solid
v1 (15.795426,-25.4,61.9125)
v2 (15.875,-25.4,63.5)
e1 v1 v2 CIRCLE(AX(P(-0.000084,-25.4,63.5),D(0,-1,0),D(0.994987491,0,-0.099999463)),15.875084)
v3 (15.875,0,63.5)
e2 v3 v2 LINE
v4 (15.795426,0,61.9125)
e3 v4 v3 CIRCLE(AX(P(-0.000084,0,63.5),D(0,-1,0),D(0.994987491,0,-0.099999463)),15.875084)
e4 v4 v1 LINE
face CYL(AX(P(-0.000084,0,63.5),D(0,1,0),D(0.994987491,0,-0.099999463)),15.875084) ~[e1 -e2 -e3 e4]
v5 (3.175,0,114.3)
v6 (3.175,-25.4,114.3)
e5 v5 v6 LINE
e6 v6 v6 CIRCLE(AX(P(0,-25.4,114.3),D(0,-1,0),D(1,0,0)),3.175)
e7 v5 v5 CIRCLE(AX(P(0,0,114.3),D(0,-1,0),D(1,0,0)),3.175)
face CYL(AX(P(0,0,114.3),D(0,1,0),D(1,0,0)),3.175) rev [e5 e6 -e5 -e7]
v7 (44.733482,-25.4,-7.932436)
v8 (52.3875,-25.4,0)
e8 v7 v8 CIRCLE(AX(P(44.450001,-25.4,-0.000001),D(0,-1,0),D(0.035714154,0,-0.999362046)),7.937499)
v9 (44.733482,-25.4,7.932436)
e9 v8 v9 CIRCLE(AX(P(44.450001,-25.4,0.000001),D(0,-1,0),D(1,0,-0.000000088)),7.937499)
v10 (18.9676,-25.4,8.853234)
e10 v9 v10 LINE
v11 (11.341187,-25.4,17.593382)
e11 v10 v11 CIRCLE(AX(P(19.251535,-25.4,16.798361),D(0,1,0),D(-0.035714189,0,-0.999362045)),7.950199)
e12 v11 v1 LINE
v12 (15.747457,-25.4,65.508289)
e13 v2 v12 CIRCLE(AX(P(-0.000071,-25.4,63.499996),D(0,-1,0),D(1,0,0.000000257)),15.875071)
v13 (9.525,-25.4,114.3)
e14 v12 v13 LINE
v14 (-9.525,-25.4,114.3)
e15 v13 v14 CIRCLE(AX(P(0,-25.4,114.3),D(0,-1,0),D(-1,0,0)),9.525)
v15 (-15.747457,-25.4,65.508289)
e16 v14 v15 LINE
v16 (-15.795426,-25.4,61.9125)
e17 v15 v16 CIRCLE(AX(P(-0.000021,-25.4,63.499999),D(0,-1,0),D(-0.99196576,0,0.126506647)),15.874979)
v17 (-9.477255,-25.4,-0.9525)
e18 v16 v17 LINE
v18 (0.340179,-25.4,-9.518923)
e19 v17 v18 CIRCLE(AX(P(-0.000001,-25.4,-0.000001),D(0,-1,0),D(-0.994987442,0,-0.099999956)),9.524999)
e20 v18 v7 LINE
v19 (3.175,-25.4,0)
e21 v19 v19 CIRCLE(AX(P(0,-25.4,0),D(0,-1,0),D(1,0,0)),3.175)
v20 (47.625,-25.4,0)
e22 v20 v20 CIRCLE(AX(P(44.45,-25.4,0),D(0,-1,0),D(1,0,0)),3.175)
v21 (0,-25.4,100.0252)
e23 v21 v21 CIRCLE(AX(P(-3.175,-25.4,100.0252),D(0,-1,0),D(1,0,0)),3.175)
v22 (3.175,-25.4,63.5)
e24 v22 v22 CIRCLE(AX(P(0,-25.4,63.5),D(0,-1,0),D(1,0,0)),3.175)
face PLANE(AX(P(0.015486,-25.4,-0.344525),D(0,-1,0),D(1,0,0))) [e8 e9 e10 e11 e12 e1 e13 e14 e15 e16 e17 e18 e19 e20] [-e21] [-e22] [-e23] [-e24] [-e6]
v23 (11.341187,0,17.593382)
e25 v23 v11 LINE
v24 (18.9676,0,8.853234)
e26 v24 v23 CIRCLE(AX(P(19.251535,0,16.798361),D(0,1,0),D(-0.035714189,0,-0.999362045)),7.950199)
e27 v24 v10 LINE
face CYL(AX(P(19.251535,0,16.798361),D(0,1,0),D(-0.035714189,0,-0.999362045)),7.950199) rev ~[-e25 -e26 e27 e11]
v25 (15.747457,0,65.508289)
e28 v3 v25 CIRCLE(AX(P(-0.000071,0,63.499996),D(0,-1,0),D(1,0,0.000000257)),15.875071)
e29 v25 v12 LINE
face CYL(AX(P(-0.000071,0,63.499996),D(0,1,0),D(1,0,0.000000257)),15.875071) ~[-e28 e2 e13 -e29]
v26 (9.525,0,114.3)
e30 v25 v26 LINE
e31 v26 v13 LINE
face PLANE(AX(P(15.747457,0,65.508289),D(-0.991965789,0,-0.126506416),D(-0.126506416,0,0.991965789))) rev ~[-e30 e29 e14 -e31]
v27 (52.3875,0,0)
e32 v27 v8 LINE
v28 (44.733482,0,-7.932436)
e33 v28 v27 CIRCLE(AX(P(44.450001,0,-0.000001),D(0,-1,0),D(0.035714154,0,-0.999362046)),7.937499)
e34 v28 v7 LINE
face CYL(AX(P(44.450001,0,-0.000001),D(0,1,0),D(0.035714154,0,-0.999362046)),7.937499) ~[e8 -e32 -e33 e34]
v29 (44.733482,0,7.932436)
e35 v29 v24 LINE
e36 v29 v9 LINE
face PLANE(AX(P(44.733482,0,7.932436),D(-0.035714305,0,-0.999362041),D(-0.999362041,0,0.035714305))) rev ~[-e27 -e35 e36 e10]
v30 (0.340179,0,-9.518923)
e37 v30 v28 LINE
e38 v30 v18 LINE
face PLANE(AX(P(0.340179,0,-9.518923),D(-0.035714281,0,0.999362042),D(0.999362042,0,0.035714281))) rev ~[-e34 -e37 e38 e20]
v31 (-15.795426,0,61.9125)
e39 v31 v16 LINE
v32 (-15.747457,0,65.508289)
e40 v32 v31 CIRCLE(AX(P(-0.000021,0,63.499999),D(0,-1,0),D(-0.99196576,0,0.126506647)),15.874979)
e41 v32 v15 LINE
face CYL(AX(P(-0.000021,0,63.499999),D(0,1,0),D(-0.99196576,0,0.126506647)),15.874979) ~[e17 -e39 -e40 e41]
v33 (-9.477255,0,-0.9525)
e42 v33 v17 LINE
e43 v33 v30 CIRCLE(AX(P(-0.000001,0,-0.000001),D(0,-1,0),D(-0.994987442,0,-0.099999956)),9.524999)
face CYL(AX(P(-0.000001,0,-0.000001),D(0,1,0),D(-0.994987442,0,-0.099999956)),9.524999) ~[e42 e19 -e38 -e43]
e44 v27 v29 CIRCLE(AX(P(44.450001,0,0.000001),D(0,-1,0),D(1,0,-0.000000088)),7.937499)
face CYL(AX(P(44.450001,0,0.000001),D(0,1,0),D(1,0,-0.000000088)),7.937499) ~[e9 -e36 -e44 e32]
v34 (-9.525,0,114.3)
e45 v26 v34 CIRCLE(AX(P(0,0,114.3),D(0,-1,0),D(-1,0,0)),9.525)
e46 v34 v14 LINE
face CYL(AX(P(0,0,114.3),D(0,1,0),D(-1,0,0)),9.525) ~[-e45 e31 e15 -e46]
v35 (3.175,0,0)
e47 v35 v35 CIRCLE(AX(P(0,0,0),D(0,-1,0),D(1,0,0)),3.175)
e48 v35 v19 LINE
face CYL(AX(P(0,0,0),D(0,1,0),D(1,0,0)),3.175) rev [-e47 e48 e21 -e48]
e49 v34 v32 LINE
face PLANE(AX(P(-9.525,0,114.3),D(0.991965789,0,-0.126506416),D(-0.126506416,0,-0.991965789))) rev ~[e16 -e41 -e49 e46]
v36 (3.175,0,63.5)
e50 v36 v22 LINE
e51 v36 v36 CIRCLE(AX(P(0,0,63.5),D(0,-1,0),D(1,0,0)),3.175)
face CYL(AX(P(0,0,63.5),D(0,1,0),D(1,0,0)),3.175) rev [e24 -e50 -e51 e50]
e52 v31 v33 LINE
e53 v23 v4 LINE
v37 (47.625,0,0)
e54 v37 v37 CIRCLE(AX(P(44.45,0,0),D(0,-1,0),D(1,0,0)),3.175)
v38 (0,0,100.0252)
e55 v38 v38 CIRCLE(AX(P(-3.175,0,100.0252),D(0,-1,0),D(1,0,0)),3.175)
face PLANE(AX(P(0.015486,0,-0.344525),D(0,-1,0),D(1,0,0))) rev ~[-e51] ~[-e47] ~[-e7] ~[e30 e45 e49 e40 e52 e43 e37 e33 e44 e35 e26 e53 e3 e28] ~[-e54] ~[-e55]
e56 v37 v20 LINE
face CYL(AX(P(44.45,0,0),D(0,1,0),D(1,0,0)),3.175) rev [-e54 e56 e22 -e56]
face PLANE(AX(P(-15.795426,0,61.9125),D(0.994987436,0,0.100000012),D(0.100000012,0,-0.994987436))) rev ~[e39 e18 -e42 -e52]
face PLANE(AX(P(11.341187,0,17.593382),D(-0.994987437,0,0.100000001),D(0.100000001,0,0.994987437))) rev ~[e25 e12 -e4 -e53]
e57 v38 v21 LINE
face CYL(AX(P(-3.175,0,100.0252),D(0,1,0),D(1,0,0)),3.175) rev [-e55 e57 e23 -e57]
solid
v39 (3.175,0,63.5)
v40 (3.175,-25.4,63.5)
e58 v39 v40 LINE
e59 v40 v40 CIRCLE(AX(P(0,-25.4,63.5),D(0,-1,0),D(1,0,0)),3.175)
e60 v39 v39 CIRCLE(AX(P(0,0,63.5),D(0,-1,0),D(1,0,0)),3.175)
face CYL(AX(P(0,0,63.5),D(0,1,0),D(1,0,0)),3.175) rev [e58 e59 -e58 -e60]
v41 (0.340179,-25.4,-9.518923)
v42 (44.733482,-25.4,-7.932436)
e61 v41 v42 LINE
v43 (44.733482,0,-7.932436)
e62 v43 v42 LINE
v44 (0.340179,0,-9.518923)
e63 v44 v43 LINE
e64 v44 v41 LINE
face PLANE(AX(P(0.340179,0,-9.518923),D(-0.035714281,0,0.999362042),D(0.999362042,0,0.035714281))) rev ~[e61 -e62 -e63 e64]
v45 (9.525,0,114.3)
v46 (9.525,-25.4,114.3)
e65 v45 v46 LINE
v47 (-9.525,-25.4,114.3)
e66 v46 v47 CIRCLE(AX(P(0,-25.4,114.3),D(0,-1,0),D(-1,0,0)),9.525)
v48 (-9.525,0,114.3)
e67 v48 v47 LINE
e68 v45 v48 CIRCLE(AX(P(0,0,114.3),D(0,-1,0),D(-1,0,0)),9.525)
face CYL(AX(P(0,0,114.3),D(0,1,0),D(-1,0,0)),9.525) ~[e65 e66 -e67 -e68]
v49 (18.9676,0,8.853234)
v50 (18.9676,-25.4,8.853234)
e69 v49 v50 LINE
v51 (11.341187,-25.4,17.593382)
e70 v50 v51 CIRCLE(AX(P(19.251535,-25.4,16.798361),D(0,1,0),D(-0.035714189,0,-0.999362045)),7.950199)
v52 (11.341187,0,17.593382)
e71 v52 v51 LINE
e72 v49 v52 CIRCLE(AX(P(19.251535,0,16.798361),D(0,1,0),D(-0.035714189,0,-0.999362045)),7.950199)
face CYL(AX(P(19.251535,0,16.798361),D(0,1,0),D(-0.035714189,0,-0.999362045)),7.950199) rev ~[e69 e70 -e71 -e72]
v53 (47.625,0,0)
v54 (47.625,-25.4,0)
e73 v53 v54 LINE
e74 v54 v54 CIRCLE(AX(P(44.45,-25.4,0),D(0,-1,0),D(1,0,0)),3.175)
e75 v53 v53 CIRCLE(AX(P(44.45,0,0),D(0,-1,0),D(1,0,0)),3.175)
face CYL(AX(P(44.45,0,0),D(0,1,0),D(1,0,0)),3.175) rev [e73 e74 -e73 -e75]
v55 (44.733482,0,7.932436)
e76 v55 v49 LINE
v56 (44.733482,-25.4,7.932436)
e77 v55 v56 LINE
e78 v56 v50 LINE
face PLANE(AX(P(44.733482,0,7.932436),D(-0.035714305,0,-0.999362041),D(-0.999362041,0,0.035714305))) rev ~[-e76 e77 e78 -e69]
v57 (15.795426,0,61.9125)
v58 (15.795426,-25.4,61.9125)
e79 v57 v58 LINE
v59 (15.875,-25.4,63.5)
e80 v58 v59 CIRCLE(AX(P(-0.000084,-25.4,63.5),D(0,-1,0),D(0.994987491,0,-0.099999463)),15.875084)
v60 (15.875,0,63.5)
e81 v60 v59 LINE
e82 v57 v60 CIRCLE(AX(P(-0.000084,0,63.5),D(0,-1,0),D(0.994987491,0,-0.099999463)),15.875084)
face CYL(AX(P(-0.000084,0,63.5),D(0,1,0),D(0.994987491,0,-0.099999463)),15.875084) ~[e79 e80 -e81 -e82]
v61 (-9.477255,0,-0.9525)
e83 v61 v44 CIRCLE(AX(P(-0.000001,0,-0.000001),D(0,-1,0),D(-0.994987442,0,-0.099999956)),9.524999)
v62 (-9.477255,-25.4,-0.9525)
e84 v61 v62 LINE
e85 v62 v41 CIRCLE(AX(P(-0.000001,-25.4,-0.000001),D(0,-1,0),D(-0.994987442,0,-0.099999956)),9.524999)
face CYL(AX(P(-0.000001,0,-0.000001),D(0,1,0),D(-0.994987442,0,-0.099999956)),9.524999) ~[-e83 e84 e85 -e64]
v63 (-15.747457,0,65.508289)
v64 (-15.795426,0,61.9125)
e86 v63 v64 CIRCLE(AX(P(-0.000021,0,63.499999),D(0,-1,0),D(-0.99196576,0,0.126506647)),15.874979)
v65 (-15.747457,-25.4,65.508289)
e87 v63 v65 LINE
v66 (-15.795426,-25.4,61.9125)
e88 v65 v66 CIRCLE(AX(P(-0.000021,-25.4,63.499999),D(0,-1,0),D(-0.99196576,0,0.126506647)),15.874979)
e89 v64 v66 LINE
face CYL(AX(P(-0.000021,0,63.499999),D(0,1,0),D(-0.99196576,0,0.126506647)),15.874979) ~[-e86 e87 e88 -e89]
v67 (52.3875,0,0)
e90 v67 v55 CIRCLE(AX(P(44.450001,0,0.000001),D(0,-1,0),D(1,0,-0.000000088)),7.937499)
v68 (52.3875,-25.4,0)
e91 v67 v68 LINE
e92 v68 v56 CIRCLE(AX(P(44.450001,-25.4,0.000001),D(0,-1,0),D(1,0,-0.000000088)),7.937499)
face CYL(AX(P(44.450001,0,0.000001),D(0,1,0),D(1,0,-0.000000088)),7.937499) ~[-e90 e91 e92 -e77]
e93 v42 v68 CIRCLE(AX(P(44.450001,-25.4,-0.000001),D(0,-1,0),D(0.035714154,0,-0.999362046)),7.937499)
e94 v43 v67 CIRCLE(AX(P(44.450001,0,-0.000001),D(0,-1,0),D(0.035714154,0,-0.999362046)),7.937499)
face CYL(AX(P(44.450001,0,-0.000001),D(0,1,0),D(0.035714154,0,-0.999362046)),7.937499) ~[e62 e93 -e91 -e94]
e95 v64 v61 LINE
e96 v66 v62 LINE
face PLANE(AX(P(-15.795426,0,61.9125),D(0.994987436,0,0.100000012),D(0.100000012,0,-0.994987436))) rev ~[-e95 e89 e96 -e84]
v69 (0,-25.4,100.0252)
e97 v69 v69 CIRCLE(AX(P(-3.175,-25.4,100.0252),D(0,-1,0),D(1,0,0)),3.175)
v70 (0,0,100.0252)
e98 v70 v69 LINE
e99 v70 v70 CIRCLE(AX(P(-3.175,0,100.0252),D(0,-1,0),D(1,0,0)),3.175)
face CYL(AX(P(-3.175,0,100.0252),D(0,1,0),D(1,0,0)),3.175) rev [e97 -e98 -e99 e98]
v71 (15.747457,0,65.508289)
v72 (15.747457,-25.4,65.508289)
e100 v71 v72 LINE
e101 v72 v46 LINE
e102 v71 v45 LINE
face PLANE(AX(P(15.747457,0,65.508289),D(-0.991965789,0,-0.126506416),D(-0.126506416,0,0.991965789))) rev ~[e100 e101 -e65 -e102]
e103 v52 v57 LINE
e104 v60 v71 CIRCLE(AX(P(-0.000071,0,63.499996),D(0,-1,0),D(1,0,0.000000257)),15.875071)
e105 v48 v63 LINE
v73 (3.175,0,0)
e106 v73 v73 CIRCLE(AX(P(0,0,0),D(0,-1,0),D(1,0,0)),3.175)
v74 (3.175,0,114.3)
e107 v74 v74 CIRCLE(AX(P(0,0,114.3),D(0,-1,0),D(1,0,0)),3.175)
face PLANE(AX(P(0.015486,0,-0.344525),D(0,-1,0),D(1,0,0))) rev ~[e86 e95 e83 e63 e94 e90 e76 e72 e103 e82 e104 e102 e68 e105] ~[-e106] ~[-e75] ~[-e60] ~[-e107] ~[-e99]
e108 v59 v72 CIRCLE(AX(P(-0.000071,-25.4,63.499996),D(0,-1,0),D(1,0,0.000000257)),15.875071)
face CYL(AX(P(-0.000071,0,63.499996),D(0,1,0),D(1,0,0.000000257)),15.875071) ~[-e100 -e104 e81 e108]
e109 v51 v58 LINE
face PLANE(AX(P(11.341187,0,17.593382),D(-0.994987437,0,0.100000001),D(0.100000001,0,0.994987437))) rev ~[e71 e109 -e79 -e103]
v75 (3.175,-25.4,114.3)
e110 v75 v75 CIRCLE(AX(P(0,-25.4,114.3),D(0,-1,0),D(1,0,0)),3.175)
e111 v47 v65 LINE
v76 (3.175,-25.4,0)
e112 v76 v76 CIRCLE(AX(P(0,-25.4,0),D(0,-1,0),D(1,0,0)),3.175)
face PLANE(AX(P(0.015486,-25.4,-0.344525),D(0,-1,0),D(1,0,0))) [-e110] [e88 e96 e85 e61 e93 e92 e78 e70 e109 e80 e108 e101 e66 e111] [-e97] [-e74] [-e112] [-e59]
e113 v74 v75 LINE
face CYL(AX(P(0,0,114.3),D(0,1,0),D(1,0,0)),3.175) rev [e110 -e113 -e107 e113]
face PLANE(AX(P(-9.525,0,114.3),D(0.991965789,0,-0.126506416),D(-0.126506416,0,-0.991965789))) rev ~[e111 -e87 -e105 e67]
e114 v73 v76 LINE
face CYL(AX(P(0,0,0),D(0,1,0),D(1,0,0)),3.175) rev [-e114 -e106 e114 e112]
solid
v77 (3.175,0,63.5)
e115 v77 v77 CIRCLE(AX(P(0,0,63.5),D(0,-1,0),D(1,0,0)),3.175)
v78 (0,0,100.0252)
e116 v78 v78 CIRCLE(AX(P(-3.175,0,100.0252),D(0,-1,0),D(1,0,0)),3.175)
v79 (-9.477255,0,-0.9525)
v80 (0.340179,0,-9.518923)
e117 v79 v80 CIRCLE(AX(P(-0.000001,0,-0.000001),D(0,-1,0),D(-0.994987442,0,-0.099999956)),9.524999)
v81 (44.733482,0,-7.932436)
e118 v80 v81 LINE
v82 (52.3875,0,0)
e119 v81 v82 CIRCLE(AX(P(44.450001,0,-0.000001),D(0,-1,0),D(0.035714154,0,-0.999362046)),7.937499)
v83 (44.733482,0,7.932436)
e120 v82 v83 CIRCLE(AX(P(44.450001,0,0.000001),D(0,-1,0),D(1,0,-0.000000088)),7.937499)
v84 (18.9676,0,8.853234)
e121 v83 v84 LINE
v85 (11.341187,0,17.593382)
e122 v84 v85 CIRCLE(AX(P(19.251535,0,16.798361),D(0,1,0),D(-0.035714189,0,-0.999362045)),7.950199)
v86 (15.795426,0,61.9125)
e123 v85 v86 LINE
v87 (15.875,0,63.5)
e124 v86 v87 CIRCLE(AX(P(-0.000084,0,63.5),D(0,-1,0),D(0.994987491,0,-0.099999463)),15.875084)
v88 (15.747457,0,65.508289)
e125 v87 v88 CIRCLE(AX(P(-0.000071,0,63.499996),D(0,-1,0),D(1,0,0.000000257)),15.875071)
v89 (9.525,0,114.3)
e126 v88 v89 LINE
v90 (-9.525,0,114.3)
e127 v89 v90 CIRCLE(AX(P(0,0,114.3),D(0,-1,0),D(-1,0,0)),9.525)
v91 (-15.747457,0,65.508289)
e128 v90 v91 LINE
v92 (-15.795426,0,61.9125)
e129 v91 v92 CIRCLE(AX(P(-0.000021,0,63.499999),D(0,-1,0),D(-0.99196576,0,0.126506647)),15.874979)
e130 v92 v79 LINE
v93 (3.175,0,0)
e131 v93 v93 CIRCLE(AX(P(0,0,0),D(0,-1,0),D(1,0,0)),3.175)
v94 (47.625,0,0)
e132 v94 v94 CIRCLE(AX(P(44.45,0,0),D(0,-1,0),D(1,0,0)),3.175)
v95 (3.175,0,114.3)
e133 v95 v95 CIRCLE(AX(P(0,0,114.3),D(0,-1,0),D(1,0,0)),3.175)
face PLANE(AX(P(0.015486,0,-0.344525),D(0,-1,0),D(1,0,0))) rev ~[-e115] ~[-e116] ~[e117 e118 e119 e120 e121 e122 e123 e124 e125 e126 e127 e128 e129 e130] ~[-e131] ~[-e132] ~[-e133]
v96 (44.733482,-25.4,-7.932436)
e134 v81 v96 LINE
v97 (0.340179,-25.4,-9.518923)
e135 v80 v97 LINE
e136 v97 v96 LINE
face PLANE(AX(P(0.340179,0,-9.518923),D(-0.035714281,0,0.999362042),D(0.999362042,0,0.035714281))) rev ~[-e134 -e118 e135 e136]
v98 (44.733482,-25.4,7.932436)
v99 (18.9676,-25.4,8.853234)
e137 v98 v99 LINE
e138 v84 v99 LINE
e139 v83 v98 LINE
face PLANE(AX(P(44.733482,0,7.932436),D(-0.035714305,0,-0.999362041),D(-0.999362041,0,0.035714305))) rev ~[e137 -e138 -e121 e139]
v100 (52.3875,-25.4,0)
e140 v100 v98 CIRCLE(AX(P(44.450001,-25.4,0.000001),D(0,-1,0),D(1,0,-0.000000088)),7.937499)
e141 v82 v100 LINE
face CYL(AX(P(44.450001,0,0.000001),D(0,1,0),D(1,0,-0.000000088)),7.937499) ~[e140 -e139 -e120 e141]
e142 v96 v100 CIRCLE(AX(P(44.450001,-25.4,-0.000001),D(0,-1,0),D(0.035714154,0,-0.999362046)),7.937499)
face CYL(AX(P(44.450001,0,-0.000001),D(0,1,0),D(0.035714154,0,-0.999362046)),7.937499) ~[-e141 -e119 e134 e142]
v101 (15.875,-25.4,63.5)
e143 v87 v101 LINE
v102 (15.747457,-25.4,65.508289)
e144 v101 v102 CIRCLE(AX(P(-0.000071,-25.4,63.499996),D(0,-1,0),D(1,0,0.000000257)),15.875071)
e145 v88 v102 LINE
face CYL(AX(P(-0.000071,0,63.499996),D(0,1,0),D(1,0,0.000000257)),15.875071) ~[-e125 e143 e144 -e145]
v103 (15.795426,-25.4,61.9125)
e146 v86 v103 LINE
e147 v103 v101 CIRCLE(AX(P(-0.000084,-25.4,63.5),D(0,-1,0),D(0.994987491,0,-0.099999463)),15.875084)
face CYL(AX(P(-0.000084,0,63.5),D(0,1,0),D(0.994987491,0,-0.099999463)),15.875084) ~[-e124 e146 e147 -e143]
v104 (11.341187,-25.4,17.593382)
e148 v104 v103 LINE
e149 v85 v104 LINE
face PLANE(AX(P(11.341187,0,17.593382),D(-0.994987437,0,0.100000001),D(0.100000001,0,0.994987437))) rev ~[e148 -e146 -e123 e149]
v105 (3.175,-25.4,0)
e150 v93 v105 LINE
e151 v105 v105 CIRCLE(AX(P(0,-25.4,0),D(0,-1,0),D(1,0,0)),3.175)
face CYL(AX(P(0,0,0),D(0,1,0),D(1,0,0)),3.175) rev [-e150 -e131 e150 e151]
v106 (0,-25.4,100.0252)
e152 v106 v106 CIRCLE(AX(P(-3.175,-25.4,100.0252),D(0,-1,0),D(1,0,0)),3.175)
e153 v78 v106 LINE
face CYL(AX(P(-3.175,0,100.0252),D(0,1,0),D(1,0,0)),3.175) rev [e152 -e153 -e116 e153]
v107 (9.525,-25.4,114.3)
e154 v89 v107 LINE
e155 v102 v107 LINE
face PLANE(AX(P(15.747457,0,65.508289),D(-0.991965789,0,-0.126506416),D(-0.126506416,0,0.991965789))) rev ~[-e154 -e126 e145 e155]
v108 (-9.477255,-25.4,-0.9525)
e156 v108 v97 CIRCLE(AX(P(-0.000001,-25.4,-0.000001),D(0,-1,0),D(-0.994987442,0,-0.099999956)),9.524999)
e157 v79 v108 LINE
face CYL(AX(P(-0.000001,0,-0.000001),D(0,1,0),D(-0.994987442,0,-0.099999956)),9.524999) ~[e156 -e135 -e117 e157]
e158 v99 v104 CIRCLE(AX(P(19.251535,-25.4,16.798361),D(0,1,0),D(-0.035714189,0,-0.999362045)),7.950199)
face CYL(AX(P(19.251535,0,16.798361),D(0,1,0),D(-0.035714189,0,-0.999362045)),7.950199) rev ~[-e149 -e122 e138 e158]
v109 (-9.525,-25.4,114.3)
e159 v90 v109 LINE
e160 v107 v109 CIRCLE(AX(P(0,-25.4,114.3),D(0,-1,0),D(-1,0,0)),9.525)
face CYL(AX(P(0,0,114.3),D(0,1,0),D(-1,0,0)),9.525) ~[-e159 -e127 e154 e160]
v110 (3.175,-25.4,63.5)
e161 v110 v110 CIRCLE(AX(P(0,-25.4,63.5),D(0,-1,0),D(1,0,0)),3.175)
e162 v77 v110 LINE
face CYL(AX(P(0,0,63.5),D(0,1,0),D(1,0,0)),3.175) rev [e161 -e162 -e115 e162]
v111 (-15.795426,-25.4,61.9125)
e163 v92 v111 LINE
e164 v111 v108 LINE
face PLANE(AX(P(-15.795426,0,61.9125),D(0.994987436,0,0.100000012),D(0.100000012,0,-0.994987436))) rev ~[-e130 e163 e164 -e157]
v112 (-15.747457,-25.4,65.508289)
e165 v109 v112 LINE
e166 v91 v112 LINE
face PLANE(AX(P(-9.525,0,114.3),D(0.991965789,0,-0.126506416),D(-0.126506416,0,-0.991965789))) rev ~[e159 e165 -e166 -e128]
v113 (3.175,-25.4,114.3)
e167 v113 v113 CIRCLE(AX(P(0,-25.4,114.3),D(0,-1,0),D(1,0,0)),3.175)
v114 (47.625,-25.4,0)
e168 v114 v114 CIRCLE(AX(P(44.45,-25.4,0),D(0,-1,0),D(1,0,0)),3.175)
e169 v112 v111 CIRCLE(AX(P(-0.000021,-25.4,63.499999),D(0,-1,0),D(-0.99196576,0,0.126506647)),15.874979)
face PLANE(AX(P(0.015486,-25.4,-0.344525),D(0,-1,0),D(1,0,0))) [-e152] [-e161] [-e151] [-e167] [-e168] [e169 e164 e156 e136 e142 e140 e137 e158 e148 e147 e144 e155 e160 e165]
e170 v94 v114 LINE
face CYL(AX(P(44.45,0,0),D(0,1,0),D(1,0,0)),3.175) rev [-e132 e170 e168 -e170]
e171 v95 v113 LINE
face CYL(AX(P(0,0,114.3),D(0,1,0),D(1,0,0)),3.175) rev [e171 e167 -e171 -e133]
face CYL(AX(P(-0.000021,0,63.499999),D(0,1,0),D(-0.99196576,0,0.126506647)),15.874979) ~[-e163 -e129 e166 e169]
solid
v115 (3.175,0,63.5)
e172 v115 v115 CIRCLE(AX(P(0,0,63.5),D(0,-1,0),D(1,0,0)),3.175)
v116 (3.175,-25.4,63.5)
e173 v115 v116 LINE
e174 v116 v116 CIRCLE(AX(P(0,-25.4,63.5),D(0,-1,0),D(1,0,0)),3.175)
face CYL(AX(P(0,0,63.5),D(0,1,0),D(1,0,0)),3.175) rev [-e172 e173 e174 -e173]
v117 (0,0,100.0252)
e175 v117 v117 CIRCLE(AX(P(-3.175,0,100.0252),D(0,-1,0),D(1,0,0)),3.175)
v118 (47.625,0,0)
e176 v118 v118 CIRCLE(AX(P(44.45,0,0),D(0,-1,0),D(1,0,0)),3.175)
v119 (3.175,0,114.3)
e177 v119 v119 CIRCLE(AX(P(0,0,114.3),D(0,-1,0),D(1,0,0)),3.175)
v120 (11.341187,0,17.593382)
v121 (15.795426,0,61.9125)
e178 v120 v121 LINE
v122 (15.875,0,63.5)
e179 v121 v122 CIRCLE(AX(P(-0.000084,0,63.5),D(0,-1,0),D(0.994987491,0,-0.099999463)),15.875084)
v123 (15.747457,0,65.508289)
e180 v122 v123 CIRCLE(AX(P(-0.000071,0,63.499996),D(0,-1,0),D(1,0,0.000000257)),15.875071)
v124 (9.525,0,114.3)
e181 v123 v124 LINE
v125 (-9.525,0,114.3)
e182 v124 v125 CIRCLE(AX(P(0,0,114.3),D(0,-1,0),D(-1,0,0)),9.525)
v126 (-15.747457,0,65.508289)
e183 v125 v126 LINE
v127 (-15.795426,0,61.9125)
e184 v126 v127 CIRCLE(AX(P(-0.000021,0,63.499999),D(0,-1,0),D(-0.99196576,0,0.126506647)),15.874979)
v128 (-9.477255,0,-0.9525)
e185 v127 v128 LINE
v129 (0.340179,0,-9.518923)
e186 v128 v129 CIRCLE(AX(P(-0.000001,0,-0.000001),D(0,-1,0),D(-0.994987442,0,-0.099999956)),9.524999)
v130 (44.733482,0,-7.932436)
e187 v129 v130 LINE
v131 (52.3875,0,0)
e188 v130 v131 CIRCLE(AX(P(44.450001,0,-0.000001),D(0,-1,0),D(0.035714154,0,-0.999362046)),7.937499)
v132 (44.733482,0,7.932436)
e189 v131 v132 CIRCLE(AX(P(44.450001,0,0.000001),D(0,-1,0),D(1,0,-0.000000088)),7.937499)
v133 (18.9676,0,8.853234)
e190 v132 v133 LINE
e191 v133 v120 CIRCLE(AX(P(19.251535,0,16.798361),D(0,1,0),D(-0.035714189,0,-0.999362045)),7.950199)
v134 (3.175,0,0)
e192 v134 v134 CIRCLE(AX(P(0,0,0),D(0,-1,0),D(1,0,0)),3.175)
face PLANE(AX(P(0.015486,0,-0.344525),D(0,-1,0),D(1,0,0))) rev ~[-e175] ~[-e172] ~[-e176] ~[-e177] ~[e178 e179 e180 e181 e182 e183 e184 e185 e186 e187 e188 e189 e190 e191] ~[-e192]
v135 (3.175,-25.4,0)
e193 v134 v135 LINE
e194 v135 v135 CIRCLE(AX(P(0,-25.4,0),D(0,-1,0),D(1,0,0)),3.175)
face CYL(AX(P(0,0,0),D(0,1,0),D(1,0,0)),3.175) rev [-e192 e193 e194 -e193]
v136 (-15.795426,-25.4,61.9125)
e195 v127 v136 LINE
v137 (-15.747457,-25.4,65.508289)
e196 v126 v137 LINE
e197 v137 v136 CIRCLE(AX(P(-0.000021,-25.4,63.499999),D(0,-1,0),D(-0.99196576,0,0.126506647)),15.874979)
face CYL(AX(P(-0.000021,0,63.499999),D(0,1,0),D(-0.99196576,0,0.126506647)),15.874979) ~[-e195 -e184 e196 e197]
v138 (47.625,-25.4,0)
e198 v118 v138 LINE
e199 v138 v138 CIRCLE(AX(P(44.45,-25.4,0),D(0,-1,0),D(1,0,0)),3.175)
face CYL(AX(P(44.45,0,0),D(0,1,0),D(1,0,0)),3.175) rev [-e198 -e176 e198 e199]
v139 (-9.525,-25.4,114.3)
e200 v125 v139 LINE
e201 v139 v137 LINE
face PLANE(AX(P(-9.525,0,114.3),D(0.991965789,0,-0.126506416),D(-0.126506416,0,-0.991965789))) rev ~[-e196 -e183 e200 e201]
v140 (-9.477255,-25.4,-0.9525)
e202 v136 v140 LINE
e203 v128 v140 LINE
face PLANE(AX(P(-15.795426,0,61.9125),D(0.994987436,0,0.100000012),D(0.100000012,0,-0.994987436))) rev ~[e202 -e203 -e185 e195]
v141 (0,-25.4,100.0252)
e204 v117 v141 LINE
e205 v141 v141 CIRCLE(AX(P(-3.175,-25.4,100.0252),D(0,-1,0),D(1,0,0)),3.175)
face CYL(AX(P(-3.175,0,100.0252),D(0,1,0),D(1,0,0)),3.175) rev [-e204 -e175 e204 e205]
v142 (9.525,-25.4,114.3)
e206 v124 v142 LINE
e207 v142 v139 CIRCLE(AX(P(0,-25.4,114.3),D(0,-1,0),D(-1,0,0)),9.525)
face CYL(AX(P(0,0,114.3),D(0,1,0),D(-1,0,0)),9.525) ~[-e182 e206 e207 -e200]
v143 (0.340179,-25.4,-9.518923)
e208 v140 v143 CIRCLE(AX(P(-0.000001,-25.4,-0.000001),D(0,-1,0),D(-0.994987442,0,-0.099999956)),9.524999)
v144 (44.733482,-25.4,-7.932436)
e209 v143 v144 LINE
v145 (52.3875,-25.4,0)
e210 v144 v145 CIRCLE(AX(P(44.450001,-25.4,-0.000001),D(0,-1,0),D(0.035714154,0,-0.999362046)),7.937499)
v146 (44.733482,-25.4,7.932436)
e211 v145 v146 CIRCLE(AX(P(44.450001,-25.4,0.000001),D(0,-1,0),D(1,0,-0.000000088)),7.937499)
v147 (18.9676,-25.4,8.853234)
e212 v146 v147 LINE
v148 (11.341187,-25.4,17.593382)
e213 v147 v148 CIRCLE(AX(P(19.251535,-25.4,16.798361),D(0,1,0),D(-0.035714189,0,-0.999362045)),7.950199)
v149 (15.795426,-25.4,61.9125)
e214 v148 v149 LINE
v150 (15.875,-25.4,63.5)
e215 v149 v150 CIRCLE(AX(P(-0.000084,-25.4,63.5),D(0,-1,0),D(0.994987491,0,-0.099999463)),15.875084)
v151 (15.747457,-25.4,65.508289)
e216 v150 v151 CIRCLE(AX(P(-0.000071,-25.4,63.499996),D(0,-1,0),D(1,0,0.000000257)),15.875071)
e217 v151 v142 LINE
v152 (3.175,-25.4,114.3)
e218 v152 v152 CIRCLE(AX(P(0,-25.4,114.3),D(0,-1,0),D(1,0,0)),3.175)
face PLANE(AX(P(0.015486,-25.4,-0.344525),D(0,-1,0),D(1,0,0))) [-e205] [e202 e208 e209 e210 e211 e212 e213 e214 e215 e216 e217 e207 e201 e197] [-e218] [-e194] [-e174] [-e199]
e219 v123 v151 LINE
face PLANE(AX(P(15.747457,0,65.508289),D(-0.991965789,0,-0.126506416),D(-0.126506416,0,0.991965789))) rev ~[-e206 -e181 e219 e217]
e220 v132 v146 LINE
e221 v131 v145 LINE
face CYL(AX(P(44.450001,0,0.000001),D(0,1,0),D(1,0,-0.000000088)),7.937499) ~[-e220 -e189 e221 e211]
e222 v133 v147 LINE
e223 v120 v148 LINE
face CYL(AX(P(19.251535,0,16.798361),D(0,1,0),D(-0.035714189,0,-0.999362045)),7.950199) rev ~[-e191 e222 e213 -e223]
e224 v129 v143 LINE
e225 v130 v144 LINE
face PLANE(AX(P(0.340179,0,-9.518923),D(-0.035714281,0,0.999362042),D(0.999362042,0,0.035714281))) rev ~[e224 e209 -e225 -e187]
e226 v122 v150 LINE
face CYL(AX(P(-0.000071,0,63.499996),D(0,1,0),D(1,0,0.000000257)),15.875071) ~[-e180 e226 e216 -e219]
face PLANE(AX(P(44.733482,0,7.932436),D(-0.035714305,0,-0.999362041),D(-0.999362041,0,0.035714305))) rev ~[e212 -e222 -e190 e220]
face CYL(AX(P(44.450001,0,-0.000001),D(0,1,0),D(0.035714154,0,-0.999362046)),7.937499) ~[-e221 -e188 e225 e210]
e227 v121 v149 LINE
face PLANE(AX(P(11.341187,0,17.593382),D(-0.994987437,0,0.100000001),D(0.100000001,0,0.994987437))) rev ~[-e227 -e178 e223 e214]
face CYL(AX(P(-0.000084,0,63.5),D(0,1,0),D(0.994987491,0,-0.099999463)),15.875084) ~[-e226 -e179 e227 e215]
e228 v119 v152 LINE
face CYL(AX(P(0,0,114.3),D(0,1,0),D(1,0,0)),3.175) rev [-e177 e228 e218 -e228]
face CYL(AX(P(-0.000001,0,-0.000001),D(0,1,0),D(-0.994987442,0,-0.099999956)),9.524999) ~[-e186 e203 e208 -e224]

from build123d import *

# Parameters (mm, degrees)
F0_R     = 3.175
F1_DEPTH = 25.4
F2_DEPTH = 25.4
F3_DEPTH = 25.4
F4_DEPTH = 25.4


with BuildPart() as f1:
    # F0 (on Front) → F1 (new body)
    with BuildSketch(Plane.XZ):
        with BuildLine():
            ThreePointArc((0.340179, -9.518923), (6.854408, -6.613827), (9.525, 0))
            ThreePointArc((9.525, 0), (-0.476848, 9.513056), (-9.477255, -0.9525))
            ThreePointArc((-9.477255, -0.9525), (-6.262383, -7.17692), (0.340179, -9.518923))
        make_face()
        Circle(F0_R, mode=Mode.SUBTRACT)
        with BuildLine():
            ThreePointArc((-9.477255, -0.9525), (-0.476848, 9.513056), (9.525, 0))
            ThreePointArc((9.525, 0), (6.854408, -6.613827), (0.340179, -9.518923))
            Line((0.340179, -9.518923), (44.733482, -7.932436))
            ThreePointArc((44.733482, -7.932436), (36.5125, 0), (44.733482, 7.932436))
            Line((44.733482, 7.932436), (18.9676, 8.853234))
            ThreePointArc((18.9676, 8.853234), (13.2612, 11.571359), (11.341187, 17.593382))
            Line((11.341187, 17.593382), (15.795426, 61.9125))
            ThreePointArc((15.795426, 61.9125), (0, 47.625), (-15.795426, 61.9125))
            Line((-15.795426, 61.9125), (-9.477255, -0.9525))
        make_face()
        with BuildLine():
            ThreePointArc((-15.747457, 65.508289), (-15.873588, 63.711757), (-15.795426, 61.9125))
            ThreePointArc((-15.795426, 61.9125), (0, 47.625), (15.795426, 61.9125))
            ThreePointArc((15.795426, 61.9125), (15.855094, 62.705253), (15.875, 63.5))
            ThreePointArc((15.875, 63.5), (15.843082, 64.506168), (15.747457, 65.508289))
            ThreePointArc((15.747457, 65.508289), (0, 79.375), (-15.747457, 65.508289))
        make_face()
        with Locations((0, 63.5)):
            Circle(F0_R, mode=Mode.SUBTRACT)
        with BuildLine():
            ThreePointArc((44.733482, 7.932436), (36.5125, 0), (44.733482, -7.932436))
            ThreePointArc((44.733482, -7.932436), (50.162007, -5.511523), (52.3875, 0))
            ThreePointArc((52.3875, 0), (50.162007, 5.511523), (44.733482, 7.932436))
        make_face()
        with Locations((44.45, 0)):
            Circle(F0_R, mode=Mode.SUBTRACT)
        with BuildLine():
            Line((-9.525, 114.3), (-15.747457, 65.508289))
            ThreePointArc((-15.747457, 65.508289), (0, 79.375), (15.747457, 65.508289))
            Line((15.747457, 65.508289), (9.525, 114.3))
            ThreePointArc((9.525, 114.3), (0, 104.775), (-9.525, 114.3))
        make_face()
        with Locations((-3.175, 100.0252)):
            Circle(F0_R, mode=Mode.SUBTRACT)
        with BuildLine():
            ThreePointArc((9.525, 114.3), (0, 123.825), (-9.525, 114.3))
            ThreePointArc((-9.525, 114.3), (0, 104.775), (9.525, 114.3))
        make_face()
        with Locations((0, 114.3)):
            Circle(F0_R, mode=Mode.SUBTRACT)
    extrude(amount=F1_DEPTH)


with BuildPart() as f2:
    # F0 (on Front) → F2 (new body)
    with BuildSketch(Plane.XZ):
        with BuildLine():
            ThreePointArc((0.340179, -9.518923), (6.854408, -6.613827), (9.525, 0))
            ThreePointArc((9.525, 0), (-0.476848, 9.513056), (-9.477255, -0.9525))
            ThreePointArc((-9.477255, -0.9525), (-6.262383, -7.17692), (0.340179, -9.518923))
        make_face()
        Circle(F0_R, mode=Mode.SUBTRACT)
        with BuildLine():
            ThreePointArc((-9.477255, -0.9525), (-0.476848, 9.513056), (9.525, 0))
            ThreePointArc((9.525, 0), (6.854408, -6.613827), (0.340179, -9.518923))
            Line((0.340179, -9.518923), (44.733482, -7.932436))
            ThreePointArc((44.733482, -7.932436), (36.5125, 0), (44.733482, 7.932436))
            Line((44.733482, 7.932436), (18.9676, 8.853234))
            ThreePointArc((18.9676, 8.853234), (13.2612, 11.571359), (11.341187, 17.593382))
            Line((11.341187, 17.593382), (15.795426, 61.9125))
            ThreePointArc((15.795426, 61.9125), (0, 47.625), (-15.795426, 61.9125))
            Line((-15.795426, 61.9125), (-9.477255, -0.9525))
        make_face()
        with BuildLine():
            ThreePointArc((-15.747457, 65.508289), (-15.873588, 63.711757), (-15.795426, 61.9125))
            ThreePointArc((-15.795426, 61.9125), (0, 47.625), (15.795426, 61.9125))
            ThreePointArc((15.795426, 61.9125), (15.855094, 62.705253), (15.875, 63.5))
            ThreePointArc((15.875, 63.5), (15.843082, 64.506168), (15.747457, 65.508289))
            ThreePointArc((15.747457, 65.508289), (0, 79.375), (-15.747457, 65.508289))
        make_face()
        with Locations((0, 63.5)):
            Circle(F0_R, mode=Mode.SUBTRACT)
        with BuildLine():
            ThreePointArc((44.733482, 7.932436), (36.5125, 0), (44.733482, -7.932436))
            ThreePointArc((44.733482, -7.932436), (50.162007, -5.511523), (52.3875, 0))
            ThreePointArc((52.3875, 0), (50.162007, 5.511523), (44.733482, 7.932436))
        make_face()
        with Locations((44.45, 0)):
            Circle(F0_R, mode=Mode.SUBTRACT)
        with BuildLine():
            Line((-9.525, 114.3), (-15.747457, 65.508289))
            ThreePointArc((-15.747457, 65.508289), (0, 79.375), (15.747457, 65.508289))
            Line((15.747457, 65.508289), (9.525, 114.3))
            ThreePointArc((9.525, 114.3), (0, 104.775), (-9.525, 114.3))
        make_face()
        with Locations((-3.175, 100.0252)):
            Circle(F0_R, mode=Mode.SUBTRACT)
        with BuildLine():
            ThreePointArc((9.525, 114.3), (0, 123.825), (-9.525, 114.3))
            ThreePointArc((-9.525, 114.3), (0, 104.775), (9.525, 114.3))
        make_face()
        with Locations((0, 114.3)):
            Circle(F0_R, mode=Mode.SUBTRACT)
    extrude(amount=F2_DEPTH)


with BuildPart() as f3:
    # F0 (on Front) → F3 (new body)
    with BuildSketch(Plane.XZ):
        with BuildLine():
            ThreePointArc((0.340179, -9.518923), (6.854408, -6.613827), (9.525, 0))
            ThreePointArc((9.525, 0), (-0.476848, 9.513056), (-9.477255, -0.9525))
            ThreePointArc((-9.477255, -0.9525), (-6.262383, -7.17692), (0.340179, -9.518923))
        make_face()
        Circle(F0_R, mode=Mode.SUBTRACT)
        with BuildLine():
            ThreePointArc((-9.477255, -0.9525), (-0.476848, 9.513056), (9.525, 0))
            ThreePointArc((9.525, 0), (6.854408, -6.613827), (0.340179, -9.518923))
            Line((0.340179, -9.518923), (44.733482, -7.932436))
            ThreePointArc((44.733482, -7.932436), (36.5125, 0), (44.733482, 7.932436))
            Line((44.733482, 7.932436), (18.9676, 8.853234))
            ThreePointArc((18.9676, 8.853234), (13.2612, 11.571359), (11.341187, 17.593382))
            Line((11.341187, 17.593382), (15.795426, 61.9125))
            ThreePointArc((15.795426, 61.9125), (0, 47.625), (-15.795426, 61.9125))
            Line((-15.795426, 61.9125), (-9.477255, -0.9525))
        make_face()
        with BuildLine():
            ThreePointArc((-15.747457, 65.508289), (-15.873588, 63.711757), (-15.795426, 61.9125))
            ThreePointArc((-15.795426, 61.9125), (0, 47.625), (15.795426, 61.9125))
            ThreePointArc((15.795426, 61.9125), (15.855094, 62.705253), (15.875, 63.5))
            ThreePointArc((15.875, 63.5), (15.843082, 64.506168), (15.747457, 65.508289))
            ThreePointArc((15.747457, 65.508289), (0, 79.375), (-15.747457, 65.508289))
        make_face()
        with Locations((0, 63.5)):
            Circle(F0_R, mode=Mode.SUBTRACT)
        with BuildLine():
            ThreePointArc((44.733482, 7.932436), (36.5125, 0), (44.733482, -7.932436))
            ThreePointArc((44.733482, -7.932436), (50.162007, -5.511523), (52.3875, 0))
            ThreePointArc((52.3875, 0), (50.162007, 5.511523), (44.733482, 7.932436))
        make_face()
        with Locations((44.45, 0)):
            Circle(F0_R, mode=Mode.SUBTRACT)
        with BuildLine():
            Line((-9.525, 114.3), (-15.747457, 65.508289))
            ThreePointArc((-15.747457, 65.508289), (0, 79.375), (15.747457, 65.508289))
            Line((15.747457, 65.508289), (9.525, 114.3))
            ThreePointArc((9.525, 114.3), (0, 104.775), (-9.525, 114.3))
        make_face()
        with Locations((-3.175, 100.0252)):
            Circle(F0_R, mode=Mode.SUBTRACT)
        with BuildLine():
            ThreePointArc((9.525, 114.3), (0, 123.825), (-9.525, 114.3))
            ThreePointArc((-9.525, 114.3), (0, 104.775), (9.525, 114.3))
        make_face()
        with Locations((0, 114.3)):
            Circle(F0_R, mode=Mode.SUBTRACT)
    extrude(amount=F3_DEPTH)


with BuildPart() as f4:
    # F0 (on Front) → F4 (new body)
    with BuildSketch(Plane.XZ):
        with BuildLine():
            ThreePointArc((0.340179, -9.518923), (6.854408, -6.613827), (9.525, 0))
            ThreePointArc((9.525, 0), (-0.476848, 9.513056), (-9.477255, -0.9525))
            ThreePointArc((-9.477255, -0.9525), (-6.262383, -7.17692), (0.340179, -9.518923))
        make_face()
        Circle(F0_R, mode=Mode.SUBTRACT)
        with BuildLine():
            ThreePointArc((-9.477255, -0.9525), (-0.476848, 9.513056), (9.525, 0))
            ThreePointArc((9.525, 0), (6.854408, -6.613827), (0.340179, -9.518923))
            Line((0.340179, -9.518923), (44.733482, -7.932436))
            ThreePointArc((44.733482, -7.932436), (36.5125, 0), (44.733482, 7.932436))
            Line((44.733482, 7.932436), (18.9676, 8.853234))
            ThreePointArc((18.9676, 8.853234), (13.2612, 11.571359), (11.341187, 17.593382))
            Line((11.341187, 17.593382), (15.795426, 61.9125))
            ThreePointArc((15.795426, 61.9125), (0, 47.625), (-15.795426, 61.9125))
            Line((-15.795426, 61.9125), (-9.477255, -0.9525))
        make_face()
        with BuildLine():
            ThreePointArc((-15.747457, 65.508289), (-15.873588, 63.711757), (-15.795426, 61.9125))
            ThreePointArc((-15.795426, 61.9125), (0, 47.625), (15.795426, 61.9125))
            ThreePointArc((15.795426, 61.9125), (15.855094, 62.705253), (15.875, 63.5))
            ThreePointArc((15.875, 63.5), (15.843082, 64.506168), (15.747457, 65.508289))
            ThreePointArc((15.747457, 65.508289), (0, 79.375), (-15.747457, 65.508289))
        make_face()
        with Locations((0, 63.5)):
            Circle(F0_R, mode=Mode.SUBTRACT)
        with BuildLine():
            ThreePointArc((44.733482, 7.932436), (36.5125, 0), (44.733482, -7.932436))
            ThreePointArc((44.733482, -7.932436), (50.162007, -5.511523), (52.3875, 0))
            ThreePointArc((52.3875, 0), (50.162007, 5.511523), (44.733482, 7.932436))
        make_face()
        with Locations((44.45, 0)):
            Circle(F0_R, mode=Mode.SUBTRACT)
        with BuildLine():
            Line((-9.525, 114.3), (-15.747457, 65.508289))
            ThreePointArc((-15.747457, 65.508289), (0, 79.375), (15.747457, 65.508289))
            Line((15.747457, 65.508289), (9.525, 114.3))
            ThreePointArc((9.525, 114.3), (0, 104.775), (-9.525, 114.3))
        make_face()
        with Locations((-3.175, 100.0252)):
            Circle(F0_R, mode=Mode.SUBTRACT)
        with BuildLine():
            ThreePointArc((9.525, 114.3), (0, 123.825), (-9.525, 114.3))
            ThreePointArc((-9.525, 114.3), (0, 104.775), (9.525, 114.3))
        make_face()
        with Locations((0, 114.3)):
            Circle(F0_R, mode=Mode.SUBTRACT)
    extrude(amount=F4_DEPTH)


solid = Compound([f1.part, f2.part, f3.part, f4.part])
